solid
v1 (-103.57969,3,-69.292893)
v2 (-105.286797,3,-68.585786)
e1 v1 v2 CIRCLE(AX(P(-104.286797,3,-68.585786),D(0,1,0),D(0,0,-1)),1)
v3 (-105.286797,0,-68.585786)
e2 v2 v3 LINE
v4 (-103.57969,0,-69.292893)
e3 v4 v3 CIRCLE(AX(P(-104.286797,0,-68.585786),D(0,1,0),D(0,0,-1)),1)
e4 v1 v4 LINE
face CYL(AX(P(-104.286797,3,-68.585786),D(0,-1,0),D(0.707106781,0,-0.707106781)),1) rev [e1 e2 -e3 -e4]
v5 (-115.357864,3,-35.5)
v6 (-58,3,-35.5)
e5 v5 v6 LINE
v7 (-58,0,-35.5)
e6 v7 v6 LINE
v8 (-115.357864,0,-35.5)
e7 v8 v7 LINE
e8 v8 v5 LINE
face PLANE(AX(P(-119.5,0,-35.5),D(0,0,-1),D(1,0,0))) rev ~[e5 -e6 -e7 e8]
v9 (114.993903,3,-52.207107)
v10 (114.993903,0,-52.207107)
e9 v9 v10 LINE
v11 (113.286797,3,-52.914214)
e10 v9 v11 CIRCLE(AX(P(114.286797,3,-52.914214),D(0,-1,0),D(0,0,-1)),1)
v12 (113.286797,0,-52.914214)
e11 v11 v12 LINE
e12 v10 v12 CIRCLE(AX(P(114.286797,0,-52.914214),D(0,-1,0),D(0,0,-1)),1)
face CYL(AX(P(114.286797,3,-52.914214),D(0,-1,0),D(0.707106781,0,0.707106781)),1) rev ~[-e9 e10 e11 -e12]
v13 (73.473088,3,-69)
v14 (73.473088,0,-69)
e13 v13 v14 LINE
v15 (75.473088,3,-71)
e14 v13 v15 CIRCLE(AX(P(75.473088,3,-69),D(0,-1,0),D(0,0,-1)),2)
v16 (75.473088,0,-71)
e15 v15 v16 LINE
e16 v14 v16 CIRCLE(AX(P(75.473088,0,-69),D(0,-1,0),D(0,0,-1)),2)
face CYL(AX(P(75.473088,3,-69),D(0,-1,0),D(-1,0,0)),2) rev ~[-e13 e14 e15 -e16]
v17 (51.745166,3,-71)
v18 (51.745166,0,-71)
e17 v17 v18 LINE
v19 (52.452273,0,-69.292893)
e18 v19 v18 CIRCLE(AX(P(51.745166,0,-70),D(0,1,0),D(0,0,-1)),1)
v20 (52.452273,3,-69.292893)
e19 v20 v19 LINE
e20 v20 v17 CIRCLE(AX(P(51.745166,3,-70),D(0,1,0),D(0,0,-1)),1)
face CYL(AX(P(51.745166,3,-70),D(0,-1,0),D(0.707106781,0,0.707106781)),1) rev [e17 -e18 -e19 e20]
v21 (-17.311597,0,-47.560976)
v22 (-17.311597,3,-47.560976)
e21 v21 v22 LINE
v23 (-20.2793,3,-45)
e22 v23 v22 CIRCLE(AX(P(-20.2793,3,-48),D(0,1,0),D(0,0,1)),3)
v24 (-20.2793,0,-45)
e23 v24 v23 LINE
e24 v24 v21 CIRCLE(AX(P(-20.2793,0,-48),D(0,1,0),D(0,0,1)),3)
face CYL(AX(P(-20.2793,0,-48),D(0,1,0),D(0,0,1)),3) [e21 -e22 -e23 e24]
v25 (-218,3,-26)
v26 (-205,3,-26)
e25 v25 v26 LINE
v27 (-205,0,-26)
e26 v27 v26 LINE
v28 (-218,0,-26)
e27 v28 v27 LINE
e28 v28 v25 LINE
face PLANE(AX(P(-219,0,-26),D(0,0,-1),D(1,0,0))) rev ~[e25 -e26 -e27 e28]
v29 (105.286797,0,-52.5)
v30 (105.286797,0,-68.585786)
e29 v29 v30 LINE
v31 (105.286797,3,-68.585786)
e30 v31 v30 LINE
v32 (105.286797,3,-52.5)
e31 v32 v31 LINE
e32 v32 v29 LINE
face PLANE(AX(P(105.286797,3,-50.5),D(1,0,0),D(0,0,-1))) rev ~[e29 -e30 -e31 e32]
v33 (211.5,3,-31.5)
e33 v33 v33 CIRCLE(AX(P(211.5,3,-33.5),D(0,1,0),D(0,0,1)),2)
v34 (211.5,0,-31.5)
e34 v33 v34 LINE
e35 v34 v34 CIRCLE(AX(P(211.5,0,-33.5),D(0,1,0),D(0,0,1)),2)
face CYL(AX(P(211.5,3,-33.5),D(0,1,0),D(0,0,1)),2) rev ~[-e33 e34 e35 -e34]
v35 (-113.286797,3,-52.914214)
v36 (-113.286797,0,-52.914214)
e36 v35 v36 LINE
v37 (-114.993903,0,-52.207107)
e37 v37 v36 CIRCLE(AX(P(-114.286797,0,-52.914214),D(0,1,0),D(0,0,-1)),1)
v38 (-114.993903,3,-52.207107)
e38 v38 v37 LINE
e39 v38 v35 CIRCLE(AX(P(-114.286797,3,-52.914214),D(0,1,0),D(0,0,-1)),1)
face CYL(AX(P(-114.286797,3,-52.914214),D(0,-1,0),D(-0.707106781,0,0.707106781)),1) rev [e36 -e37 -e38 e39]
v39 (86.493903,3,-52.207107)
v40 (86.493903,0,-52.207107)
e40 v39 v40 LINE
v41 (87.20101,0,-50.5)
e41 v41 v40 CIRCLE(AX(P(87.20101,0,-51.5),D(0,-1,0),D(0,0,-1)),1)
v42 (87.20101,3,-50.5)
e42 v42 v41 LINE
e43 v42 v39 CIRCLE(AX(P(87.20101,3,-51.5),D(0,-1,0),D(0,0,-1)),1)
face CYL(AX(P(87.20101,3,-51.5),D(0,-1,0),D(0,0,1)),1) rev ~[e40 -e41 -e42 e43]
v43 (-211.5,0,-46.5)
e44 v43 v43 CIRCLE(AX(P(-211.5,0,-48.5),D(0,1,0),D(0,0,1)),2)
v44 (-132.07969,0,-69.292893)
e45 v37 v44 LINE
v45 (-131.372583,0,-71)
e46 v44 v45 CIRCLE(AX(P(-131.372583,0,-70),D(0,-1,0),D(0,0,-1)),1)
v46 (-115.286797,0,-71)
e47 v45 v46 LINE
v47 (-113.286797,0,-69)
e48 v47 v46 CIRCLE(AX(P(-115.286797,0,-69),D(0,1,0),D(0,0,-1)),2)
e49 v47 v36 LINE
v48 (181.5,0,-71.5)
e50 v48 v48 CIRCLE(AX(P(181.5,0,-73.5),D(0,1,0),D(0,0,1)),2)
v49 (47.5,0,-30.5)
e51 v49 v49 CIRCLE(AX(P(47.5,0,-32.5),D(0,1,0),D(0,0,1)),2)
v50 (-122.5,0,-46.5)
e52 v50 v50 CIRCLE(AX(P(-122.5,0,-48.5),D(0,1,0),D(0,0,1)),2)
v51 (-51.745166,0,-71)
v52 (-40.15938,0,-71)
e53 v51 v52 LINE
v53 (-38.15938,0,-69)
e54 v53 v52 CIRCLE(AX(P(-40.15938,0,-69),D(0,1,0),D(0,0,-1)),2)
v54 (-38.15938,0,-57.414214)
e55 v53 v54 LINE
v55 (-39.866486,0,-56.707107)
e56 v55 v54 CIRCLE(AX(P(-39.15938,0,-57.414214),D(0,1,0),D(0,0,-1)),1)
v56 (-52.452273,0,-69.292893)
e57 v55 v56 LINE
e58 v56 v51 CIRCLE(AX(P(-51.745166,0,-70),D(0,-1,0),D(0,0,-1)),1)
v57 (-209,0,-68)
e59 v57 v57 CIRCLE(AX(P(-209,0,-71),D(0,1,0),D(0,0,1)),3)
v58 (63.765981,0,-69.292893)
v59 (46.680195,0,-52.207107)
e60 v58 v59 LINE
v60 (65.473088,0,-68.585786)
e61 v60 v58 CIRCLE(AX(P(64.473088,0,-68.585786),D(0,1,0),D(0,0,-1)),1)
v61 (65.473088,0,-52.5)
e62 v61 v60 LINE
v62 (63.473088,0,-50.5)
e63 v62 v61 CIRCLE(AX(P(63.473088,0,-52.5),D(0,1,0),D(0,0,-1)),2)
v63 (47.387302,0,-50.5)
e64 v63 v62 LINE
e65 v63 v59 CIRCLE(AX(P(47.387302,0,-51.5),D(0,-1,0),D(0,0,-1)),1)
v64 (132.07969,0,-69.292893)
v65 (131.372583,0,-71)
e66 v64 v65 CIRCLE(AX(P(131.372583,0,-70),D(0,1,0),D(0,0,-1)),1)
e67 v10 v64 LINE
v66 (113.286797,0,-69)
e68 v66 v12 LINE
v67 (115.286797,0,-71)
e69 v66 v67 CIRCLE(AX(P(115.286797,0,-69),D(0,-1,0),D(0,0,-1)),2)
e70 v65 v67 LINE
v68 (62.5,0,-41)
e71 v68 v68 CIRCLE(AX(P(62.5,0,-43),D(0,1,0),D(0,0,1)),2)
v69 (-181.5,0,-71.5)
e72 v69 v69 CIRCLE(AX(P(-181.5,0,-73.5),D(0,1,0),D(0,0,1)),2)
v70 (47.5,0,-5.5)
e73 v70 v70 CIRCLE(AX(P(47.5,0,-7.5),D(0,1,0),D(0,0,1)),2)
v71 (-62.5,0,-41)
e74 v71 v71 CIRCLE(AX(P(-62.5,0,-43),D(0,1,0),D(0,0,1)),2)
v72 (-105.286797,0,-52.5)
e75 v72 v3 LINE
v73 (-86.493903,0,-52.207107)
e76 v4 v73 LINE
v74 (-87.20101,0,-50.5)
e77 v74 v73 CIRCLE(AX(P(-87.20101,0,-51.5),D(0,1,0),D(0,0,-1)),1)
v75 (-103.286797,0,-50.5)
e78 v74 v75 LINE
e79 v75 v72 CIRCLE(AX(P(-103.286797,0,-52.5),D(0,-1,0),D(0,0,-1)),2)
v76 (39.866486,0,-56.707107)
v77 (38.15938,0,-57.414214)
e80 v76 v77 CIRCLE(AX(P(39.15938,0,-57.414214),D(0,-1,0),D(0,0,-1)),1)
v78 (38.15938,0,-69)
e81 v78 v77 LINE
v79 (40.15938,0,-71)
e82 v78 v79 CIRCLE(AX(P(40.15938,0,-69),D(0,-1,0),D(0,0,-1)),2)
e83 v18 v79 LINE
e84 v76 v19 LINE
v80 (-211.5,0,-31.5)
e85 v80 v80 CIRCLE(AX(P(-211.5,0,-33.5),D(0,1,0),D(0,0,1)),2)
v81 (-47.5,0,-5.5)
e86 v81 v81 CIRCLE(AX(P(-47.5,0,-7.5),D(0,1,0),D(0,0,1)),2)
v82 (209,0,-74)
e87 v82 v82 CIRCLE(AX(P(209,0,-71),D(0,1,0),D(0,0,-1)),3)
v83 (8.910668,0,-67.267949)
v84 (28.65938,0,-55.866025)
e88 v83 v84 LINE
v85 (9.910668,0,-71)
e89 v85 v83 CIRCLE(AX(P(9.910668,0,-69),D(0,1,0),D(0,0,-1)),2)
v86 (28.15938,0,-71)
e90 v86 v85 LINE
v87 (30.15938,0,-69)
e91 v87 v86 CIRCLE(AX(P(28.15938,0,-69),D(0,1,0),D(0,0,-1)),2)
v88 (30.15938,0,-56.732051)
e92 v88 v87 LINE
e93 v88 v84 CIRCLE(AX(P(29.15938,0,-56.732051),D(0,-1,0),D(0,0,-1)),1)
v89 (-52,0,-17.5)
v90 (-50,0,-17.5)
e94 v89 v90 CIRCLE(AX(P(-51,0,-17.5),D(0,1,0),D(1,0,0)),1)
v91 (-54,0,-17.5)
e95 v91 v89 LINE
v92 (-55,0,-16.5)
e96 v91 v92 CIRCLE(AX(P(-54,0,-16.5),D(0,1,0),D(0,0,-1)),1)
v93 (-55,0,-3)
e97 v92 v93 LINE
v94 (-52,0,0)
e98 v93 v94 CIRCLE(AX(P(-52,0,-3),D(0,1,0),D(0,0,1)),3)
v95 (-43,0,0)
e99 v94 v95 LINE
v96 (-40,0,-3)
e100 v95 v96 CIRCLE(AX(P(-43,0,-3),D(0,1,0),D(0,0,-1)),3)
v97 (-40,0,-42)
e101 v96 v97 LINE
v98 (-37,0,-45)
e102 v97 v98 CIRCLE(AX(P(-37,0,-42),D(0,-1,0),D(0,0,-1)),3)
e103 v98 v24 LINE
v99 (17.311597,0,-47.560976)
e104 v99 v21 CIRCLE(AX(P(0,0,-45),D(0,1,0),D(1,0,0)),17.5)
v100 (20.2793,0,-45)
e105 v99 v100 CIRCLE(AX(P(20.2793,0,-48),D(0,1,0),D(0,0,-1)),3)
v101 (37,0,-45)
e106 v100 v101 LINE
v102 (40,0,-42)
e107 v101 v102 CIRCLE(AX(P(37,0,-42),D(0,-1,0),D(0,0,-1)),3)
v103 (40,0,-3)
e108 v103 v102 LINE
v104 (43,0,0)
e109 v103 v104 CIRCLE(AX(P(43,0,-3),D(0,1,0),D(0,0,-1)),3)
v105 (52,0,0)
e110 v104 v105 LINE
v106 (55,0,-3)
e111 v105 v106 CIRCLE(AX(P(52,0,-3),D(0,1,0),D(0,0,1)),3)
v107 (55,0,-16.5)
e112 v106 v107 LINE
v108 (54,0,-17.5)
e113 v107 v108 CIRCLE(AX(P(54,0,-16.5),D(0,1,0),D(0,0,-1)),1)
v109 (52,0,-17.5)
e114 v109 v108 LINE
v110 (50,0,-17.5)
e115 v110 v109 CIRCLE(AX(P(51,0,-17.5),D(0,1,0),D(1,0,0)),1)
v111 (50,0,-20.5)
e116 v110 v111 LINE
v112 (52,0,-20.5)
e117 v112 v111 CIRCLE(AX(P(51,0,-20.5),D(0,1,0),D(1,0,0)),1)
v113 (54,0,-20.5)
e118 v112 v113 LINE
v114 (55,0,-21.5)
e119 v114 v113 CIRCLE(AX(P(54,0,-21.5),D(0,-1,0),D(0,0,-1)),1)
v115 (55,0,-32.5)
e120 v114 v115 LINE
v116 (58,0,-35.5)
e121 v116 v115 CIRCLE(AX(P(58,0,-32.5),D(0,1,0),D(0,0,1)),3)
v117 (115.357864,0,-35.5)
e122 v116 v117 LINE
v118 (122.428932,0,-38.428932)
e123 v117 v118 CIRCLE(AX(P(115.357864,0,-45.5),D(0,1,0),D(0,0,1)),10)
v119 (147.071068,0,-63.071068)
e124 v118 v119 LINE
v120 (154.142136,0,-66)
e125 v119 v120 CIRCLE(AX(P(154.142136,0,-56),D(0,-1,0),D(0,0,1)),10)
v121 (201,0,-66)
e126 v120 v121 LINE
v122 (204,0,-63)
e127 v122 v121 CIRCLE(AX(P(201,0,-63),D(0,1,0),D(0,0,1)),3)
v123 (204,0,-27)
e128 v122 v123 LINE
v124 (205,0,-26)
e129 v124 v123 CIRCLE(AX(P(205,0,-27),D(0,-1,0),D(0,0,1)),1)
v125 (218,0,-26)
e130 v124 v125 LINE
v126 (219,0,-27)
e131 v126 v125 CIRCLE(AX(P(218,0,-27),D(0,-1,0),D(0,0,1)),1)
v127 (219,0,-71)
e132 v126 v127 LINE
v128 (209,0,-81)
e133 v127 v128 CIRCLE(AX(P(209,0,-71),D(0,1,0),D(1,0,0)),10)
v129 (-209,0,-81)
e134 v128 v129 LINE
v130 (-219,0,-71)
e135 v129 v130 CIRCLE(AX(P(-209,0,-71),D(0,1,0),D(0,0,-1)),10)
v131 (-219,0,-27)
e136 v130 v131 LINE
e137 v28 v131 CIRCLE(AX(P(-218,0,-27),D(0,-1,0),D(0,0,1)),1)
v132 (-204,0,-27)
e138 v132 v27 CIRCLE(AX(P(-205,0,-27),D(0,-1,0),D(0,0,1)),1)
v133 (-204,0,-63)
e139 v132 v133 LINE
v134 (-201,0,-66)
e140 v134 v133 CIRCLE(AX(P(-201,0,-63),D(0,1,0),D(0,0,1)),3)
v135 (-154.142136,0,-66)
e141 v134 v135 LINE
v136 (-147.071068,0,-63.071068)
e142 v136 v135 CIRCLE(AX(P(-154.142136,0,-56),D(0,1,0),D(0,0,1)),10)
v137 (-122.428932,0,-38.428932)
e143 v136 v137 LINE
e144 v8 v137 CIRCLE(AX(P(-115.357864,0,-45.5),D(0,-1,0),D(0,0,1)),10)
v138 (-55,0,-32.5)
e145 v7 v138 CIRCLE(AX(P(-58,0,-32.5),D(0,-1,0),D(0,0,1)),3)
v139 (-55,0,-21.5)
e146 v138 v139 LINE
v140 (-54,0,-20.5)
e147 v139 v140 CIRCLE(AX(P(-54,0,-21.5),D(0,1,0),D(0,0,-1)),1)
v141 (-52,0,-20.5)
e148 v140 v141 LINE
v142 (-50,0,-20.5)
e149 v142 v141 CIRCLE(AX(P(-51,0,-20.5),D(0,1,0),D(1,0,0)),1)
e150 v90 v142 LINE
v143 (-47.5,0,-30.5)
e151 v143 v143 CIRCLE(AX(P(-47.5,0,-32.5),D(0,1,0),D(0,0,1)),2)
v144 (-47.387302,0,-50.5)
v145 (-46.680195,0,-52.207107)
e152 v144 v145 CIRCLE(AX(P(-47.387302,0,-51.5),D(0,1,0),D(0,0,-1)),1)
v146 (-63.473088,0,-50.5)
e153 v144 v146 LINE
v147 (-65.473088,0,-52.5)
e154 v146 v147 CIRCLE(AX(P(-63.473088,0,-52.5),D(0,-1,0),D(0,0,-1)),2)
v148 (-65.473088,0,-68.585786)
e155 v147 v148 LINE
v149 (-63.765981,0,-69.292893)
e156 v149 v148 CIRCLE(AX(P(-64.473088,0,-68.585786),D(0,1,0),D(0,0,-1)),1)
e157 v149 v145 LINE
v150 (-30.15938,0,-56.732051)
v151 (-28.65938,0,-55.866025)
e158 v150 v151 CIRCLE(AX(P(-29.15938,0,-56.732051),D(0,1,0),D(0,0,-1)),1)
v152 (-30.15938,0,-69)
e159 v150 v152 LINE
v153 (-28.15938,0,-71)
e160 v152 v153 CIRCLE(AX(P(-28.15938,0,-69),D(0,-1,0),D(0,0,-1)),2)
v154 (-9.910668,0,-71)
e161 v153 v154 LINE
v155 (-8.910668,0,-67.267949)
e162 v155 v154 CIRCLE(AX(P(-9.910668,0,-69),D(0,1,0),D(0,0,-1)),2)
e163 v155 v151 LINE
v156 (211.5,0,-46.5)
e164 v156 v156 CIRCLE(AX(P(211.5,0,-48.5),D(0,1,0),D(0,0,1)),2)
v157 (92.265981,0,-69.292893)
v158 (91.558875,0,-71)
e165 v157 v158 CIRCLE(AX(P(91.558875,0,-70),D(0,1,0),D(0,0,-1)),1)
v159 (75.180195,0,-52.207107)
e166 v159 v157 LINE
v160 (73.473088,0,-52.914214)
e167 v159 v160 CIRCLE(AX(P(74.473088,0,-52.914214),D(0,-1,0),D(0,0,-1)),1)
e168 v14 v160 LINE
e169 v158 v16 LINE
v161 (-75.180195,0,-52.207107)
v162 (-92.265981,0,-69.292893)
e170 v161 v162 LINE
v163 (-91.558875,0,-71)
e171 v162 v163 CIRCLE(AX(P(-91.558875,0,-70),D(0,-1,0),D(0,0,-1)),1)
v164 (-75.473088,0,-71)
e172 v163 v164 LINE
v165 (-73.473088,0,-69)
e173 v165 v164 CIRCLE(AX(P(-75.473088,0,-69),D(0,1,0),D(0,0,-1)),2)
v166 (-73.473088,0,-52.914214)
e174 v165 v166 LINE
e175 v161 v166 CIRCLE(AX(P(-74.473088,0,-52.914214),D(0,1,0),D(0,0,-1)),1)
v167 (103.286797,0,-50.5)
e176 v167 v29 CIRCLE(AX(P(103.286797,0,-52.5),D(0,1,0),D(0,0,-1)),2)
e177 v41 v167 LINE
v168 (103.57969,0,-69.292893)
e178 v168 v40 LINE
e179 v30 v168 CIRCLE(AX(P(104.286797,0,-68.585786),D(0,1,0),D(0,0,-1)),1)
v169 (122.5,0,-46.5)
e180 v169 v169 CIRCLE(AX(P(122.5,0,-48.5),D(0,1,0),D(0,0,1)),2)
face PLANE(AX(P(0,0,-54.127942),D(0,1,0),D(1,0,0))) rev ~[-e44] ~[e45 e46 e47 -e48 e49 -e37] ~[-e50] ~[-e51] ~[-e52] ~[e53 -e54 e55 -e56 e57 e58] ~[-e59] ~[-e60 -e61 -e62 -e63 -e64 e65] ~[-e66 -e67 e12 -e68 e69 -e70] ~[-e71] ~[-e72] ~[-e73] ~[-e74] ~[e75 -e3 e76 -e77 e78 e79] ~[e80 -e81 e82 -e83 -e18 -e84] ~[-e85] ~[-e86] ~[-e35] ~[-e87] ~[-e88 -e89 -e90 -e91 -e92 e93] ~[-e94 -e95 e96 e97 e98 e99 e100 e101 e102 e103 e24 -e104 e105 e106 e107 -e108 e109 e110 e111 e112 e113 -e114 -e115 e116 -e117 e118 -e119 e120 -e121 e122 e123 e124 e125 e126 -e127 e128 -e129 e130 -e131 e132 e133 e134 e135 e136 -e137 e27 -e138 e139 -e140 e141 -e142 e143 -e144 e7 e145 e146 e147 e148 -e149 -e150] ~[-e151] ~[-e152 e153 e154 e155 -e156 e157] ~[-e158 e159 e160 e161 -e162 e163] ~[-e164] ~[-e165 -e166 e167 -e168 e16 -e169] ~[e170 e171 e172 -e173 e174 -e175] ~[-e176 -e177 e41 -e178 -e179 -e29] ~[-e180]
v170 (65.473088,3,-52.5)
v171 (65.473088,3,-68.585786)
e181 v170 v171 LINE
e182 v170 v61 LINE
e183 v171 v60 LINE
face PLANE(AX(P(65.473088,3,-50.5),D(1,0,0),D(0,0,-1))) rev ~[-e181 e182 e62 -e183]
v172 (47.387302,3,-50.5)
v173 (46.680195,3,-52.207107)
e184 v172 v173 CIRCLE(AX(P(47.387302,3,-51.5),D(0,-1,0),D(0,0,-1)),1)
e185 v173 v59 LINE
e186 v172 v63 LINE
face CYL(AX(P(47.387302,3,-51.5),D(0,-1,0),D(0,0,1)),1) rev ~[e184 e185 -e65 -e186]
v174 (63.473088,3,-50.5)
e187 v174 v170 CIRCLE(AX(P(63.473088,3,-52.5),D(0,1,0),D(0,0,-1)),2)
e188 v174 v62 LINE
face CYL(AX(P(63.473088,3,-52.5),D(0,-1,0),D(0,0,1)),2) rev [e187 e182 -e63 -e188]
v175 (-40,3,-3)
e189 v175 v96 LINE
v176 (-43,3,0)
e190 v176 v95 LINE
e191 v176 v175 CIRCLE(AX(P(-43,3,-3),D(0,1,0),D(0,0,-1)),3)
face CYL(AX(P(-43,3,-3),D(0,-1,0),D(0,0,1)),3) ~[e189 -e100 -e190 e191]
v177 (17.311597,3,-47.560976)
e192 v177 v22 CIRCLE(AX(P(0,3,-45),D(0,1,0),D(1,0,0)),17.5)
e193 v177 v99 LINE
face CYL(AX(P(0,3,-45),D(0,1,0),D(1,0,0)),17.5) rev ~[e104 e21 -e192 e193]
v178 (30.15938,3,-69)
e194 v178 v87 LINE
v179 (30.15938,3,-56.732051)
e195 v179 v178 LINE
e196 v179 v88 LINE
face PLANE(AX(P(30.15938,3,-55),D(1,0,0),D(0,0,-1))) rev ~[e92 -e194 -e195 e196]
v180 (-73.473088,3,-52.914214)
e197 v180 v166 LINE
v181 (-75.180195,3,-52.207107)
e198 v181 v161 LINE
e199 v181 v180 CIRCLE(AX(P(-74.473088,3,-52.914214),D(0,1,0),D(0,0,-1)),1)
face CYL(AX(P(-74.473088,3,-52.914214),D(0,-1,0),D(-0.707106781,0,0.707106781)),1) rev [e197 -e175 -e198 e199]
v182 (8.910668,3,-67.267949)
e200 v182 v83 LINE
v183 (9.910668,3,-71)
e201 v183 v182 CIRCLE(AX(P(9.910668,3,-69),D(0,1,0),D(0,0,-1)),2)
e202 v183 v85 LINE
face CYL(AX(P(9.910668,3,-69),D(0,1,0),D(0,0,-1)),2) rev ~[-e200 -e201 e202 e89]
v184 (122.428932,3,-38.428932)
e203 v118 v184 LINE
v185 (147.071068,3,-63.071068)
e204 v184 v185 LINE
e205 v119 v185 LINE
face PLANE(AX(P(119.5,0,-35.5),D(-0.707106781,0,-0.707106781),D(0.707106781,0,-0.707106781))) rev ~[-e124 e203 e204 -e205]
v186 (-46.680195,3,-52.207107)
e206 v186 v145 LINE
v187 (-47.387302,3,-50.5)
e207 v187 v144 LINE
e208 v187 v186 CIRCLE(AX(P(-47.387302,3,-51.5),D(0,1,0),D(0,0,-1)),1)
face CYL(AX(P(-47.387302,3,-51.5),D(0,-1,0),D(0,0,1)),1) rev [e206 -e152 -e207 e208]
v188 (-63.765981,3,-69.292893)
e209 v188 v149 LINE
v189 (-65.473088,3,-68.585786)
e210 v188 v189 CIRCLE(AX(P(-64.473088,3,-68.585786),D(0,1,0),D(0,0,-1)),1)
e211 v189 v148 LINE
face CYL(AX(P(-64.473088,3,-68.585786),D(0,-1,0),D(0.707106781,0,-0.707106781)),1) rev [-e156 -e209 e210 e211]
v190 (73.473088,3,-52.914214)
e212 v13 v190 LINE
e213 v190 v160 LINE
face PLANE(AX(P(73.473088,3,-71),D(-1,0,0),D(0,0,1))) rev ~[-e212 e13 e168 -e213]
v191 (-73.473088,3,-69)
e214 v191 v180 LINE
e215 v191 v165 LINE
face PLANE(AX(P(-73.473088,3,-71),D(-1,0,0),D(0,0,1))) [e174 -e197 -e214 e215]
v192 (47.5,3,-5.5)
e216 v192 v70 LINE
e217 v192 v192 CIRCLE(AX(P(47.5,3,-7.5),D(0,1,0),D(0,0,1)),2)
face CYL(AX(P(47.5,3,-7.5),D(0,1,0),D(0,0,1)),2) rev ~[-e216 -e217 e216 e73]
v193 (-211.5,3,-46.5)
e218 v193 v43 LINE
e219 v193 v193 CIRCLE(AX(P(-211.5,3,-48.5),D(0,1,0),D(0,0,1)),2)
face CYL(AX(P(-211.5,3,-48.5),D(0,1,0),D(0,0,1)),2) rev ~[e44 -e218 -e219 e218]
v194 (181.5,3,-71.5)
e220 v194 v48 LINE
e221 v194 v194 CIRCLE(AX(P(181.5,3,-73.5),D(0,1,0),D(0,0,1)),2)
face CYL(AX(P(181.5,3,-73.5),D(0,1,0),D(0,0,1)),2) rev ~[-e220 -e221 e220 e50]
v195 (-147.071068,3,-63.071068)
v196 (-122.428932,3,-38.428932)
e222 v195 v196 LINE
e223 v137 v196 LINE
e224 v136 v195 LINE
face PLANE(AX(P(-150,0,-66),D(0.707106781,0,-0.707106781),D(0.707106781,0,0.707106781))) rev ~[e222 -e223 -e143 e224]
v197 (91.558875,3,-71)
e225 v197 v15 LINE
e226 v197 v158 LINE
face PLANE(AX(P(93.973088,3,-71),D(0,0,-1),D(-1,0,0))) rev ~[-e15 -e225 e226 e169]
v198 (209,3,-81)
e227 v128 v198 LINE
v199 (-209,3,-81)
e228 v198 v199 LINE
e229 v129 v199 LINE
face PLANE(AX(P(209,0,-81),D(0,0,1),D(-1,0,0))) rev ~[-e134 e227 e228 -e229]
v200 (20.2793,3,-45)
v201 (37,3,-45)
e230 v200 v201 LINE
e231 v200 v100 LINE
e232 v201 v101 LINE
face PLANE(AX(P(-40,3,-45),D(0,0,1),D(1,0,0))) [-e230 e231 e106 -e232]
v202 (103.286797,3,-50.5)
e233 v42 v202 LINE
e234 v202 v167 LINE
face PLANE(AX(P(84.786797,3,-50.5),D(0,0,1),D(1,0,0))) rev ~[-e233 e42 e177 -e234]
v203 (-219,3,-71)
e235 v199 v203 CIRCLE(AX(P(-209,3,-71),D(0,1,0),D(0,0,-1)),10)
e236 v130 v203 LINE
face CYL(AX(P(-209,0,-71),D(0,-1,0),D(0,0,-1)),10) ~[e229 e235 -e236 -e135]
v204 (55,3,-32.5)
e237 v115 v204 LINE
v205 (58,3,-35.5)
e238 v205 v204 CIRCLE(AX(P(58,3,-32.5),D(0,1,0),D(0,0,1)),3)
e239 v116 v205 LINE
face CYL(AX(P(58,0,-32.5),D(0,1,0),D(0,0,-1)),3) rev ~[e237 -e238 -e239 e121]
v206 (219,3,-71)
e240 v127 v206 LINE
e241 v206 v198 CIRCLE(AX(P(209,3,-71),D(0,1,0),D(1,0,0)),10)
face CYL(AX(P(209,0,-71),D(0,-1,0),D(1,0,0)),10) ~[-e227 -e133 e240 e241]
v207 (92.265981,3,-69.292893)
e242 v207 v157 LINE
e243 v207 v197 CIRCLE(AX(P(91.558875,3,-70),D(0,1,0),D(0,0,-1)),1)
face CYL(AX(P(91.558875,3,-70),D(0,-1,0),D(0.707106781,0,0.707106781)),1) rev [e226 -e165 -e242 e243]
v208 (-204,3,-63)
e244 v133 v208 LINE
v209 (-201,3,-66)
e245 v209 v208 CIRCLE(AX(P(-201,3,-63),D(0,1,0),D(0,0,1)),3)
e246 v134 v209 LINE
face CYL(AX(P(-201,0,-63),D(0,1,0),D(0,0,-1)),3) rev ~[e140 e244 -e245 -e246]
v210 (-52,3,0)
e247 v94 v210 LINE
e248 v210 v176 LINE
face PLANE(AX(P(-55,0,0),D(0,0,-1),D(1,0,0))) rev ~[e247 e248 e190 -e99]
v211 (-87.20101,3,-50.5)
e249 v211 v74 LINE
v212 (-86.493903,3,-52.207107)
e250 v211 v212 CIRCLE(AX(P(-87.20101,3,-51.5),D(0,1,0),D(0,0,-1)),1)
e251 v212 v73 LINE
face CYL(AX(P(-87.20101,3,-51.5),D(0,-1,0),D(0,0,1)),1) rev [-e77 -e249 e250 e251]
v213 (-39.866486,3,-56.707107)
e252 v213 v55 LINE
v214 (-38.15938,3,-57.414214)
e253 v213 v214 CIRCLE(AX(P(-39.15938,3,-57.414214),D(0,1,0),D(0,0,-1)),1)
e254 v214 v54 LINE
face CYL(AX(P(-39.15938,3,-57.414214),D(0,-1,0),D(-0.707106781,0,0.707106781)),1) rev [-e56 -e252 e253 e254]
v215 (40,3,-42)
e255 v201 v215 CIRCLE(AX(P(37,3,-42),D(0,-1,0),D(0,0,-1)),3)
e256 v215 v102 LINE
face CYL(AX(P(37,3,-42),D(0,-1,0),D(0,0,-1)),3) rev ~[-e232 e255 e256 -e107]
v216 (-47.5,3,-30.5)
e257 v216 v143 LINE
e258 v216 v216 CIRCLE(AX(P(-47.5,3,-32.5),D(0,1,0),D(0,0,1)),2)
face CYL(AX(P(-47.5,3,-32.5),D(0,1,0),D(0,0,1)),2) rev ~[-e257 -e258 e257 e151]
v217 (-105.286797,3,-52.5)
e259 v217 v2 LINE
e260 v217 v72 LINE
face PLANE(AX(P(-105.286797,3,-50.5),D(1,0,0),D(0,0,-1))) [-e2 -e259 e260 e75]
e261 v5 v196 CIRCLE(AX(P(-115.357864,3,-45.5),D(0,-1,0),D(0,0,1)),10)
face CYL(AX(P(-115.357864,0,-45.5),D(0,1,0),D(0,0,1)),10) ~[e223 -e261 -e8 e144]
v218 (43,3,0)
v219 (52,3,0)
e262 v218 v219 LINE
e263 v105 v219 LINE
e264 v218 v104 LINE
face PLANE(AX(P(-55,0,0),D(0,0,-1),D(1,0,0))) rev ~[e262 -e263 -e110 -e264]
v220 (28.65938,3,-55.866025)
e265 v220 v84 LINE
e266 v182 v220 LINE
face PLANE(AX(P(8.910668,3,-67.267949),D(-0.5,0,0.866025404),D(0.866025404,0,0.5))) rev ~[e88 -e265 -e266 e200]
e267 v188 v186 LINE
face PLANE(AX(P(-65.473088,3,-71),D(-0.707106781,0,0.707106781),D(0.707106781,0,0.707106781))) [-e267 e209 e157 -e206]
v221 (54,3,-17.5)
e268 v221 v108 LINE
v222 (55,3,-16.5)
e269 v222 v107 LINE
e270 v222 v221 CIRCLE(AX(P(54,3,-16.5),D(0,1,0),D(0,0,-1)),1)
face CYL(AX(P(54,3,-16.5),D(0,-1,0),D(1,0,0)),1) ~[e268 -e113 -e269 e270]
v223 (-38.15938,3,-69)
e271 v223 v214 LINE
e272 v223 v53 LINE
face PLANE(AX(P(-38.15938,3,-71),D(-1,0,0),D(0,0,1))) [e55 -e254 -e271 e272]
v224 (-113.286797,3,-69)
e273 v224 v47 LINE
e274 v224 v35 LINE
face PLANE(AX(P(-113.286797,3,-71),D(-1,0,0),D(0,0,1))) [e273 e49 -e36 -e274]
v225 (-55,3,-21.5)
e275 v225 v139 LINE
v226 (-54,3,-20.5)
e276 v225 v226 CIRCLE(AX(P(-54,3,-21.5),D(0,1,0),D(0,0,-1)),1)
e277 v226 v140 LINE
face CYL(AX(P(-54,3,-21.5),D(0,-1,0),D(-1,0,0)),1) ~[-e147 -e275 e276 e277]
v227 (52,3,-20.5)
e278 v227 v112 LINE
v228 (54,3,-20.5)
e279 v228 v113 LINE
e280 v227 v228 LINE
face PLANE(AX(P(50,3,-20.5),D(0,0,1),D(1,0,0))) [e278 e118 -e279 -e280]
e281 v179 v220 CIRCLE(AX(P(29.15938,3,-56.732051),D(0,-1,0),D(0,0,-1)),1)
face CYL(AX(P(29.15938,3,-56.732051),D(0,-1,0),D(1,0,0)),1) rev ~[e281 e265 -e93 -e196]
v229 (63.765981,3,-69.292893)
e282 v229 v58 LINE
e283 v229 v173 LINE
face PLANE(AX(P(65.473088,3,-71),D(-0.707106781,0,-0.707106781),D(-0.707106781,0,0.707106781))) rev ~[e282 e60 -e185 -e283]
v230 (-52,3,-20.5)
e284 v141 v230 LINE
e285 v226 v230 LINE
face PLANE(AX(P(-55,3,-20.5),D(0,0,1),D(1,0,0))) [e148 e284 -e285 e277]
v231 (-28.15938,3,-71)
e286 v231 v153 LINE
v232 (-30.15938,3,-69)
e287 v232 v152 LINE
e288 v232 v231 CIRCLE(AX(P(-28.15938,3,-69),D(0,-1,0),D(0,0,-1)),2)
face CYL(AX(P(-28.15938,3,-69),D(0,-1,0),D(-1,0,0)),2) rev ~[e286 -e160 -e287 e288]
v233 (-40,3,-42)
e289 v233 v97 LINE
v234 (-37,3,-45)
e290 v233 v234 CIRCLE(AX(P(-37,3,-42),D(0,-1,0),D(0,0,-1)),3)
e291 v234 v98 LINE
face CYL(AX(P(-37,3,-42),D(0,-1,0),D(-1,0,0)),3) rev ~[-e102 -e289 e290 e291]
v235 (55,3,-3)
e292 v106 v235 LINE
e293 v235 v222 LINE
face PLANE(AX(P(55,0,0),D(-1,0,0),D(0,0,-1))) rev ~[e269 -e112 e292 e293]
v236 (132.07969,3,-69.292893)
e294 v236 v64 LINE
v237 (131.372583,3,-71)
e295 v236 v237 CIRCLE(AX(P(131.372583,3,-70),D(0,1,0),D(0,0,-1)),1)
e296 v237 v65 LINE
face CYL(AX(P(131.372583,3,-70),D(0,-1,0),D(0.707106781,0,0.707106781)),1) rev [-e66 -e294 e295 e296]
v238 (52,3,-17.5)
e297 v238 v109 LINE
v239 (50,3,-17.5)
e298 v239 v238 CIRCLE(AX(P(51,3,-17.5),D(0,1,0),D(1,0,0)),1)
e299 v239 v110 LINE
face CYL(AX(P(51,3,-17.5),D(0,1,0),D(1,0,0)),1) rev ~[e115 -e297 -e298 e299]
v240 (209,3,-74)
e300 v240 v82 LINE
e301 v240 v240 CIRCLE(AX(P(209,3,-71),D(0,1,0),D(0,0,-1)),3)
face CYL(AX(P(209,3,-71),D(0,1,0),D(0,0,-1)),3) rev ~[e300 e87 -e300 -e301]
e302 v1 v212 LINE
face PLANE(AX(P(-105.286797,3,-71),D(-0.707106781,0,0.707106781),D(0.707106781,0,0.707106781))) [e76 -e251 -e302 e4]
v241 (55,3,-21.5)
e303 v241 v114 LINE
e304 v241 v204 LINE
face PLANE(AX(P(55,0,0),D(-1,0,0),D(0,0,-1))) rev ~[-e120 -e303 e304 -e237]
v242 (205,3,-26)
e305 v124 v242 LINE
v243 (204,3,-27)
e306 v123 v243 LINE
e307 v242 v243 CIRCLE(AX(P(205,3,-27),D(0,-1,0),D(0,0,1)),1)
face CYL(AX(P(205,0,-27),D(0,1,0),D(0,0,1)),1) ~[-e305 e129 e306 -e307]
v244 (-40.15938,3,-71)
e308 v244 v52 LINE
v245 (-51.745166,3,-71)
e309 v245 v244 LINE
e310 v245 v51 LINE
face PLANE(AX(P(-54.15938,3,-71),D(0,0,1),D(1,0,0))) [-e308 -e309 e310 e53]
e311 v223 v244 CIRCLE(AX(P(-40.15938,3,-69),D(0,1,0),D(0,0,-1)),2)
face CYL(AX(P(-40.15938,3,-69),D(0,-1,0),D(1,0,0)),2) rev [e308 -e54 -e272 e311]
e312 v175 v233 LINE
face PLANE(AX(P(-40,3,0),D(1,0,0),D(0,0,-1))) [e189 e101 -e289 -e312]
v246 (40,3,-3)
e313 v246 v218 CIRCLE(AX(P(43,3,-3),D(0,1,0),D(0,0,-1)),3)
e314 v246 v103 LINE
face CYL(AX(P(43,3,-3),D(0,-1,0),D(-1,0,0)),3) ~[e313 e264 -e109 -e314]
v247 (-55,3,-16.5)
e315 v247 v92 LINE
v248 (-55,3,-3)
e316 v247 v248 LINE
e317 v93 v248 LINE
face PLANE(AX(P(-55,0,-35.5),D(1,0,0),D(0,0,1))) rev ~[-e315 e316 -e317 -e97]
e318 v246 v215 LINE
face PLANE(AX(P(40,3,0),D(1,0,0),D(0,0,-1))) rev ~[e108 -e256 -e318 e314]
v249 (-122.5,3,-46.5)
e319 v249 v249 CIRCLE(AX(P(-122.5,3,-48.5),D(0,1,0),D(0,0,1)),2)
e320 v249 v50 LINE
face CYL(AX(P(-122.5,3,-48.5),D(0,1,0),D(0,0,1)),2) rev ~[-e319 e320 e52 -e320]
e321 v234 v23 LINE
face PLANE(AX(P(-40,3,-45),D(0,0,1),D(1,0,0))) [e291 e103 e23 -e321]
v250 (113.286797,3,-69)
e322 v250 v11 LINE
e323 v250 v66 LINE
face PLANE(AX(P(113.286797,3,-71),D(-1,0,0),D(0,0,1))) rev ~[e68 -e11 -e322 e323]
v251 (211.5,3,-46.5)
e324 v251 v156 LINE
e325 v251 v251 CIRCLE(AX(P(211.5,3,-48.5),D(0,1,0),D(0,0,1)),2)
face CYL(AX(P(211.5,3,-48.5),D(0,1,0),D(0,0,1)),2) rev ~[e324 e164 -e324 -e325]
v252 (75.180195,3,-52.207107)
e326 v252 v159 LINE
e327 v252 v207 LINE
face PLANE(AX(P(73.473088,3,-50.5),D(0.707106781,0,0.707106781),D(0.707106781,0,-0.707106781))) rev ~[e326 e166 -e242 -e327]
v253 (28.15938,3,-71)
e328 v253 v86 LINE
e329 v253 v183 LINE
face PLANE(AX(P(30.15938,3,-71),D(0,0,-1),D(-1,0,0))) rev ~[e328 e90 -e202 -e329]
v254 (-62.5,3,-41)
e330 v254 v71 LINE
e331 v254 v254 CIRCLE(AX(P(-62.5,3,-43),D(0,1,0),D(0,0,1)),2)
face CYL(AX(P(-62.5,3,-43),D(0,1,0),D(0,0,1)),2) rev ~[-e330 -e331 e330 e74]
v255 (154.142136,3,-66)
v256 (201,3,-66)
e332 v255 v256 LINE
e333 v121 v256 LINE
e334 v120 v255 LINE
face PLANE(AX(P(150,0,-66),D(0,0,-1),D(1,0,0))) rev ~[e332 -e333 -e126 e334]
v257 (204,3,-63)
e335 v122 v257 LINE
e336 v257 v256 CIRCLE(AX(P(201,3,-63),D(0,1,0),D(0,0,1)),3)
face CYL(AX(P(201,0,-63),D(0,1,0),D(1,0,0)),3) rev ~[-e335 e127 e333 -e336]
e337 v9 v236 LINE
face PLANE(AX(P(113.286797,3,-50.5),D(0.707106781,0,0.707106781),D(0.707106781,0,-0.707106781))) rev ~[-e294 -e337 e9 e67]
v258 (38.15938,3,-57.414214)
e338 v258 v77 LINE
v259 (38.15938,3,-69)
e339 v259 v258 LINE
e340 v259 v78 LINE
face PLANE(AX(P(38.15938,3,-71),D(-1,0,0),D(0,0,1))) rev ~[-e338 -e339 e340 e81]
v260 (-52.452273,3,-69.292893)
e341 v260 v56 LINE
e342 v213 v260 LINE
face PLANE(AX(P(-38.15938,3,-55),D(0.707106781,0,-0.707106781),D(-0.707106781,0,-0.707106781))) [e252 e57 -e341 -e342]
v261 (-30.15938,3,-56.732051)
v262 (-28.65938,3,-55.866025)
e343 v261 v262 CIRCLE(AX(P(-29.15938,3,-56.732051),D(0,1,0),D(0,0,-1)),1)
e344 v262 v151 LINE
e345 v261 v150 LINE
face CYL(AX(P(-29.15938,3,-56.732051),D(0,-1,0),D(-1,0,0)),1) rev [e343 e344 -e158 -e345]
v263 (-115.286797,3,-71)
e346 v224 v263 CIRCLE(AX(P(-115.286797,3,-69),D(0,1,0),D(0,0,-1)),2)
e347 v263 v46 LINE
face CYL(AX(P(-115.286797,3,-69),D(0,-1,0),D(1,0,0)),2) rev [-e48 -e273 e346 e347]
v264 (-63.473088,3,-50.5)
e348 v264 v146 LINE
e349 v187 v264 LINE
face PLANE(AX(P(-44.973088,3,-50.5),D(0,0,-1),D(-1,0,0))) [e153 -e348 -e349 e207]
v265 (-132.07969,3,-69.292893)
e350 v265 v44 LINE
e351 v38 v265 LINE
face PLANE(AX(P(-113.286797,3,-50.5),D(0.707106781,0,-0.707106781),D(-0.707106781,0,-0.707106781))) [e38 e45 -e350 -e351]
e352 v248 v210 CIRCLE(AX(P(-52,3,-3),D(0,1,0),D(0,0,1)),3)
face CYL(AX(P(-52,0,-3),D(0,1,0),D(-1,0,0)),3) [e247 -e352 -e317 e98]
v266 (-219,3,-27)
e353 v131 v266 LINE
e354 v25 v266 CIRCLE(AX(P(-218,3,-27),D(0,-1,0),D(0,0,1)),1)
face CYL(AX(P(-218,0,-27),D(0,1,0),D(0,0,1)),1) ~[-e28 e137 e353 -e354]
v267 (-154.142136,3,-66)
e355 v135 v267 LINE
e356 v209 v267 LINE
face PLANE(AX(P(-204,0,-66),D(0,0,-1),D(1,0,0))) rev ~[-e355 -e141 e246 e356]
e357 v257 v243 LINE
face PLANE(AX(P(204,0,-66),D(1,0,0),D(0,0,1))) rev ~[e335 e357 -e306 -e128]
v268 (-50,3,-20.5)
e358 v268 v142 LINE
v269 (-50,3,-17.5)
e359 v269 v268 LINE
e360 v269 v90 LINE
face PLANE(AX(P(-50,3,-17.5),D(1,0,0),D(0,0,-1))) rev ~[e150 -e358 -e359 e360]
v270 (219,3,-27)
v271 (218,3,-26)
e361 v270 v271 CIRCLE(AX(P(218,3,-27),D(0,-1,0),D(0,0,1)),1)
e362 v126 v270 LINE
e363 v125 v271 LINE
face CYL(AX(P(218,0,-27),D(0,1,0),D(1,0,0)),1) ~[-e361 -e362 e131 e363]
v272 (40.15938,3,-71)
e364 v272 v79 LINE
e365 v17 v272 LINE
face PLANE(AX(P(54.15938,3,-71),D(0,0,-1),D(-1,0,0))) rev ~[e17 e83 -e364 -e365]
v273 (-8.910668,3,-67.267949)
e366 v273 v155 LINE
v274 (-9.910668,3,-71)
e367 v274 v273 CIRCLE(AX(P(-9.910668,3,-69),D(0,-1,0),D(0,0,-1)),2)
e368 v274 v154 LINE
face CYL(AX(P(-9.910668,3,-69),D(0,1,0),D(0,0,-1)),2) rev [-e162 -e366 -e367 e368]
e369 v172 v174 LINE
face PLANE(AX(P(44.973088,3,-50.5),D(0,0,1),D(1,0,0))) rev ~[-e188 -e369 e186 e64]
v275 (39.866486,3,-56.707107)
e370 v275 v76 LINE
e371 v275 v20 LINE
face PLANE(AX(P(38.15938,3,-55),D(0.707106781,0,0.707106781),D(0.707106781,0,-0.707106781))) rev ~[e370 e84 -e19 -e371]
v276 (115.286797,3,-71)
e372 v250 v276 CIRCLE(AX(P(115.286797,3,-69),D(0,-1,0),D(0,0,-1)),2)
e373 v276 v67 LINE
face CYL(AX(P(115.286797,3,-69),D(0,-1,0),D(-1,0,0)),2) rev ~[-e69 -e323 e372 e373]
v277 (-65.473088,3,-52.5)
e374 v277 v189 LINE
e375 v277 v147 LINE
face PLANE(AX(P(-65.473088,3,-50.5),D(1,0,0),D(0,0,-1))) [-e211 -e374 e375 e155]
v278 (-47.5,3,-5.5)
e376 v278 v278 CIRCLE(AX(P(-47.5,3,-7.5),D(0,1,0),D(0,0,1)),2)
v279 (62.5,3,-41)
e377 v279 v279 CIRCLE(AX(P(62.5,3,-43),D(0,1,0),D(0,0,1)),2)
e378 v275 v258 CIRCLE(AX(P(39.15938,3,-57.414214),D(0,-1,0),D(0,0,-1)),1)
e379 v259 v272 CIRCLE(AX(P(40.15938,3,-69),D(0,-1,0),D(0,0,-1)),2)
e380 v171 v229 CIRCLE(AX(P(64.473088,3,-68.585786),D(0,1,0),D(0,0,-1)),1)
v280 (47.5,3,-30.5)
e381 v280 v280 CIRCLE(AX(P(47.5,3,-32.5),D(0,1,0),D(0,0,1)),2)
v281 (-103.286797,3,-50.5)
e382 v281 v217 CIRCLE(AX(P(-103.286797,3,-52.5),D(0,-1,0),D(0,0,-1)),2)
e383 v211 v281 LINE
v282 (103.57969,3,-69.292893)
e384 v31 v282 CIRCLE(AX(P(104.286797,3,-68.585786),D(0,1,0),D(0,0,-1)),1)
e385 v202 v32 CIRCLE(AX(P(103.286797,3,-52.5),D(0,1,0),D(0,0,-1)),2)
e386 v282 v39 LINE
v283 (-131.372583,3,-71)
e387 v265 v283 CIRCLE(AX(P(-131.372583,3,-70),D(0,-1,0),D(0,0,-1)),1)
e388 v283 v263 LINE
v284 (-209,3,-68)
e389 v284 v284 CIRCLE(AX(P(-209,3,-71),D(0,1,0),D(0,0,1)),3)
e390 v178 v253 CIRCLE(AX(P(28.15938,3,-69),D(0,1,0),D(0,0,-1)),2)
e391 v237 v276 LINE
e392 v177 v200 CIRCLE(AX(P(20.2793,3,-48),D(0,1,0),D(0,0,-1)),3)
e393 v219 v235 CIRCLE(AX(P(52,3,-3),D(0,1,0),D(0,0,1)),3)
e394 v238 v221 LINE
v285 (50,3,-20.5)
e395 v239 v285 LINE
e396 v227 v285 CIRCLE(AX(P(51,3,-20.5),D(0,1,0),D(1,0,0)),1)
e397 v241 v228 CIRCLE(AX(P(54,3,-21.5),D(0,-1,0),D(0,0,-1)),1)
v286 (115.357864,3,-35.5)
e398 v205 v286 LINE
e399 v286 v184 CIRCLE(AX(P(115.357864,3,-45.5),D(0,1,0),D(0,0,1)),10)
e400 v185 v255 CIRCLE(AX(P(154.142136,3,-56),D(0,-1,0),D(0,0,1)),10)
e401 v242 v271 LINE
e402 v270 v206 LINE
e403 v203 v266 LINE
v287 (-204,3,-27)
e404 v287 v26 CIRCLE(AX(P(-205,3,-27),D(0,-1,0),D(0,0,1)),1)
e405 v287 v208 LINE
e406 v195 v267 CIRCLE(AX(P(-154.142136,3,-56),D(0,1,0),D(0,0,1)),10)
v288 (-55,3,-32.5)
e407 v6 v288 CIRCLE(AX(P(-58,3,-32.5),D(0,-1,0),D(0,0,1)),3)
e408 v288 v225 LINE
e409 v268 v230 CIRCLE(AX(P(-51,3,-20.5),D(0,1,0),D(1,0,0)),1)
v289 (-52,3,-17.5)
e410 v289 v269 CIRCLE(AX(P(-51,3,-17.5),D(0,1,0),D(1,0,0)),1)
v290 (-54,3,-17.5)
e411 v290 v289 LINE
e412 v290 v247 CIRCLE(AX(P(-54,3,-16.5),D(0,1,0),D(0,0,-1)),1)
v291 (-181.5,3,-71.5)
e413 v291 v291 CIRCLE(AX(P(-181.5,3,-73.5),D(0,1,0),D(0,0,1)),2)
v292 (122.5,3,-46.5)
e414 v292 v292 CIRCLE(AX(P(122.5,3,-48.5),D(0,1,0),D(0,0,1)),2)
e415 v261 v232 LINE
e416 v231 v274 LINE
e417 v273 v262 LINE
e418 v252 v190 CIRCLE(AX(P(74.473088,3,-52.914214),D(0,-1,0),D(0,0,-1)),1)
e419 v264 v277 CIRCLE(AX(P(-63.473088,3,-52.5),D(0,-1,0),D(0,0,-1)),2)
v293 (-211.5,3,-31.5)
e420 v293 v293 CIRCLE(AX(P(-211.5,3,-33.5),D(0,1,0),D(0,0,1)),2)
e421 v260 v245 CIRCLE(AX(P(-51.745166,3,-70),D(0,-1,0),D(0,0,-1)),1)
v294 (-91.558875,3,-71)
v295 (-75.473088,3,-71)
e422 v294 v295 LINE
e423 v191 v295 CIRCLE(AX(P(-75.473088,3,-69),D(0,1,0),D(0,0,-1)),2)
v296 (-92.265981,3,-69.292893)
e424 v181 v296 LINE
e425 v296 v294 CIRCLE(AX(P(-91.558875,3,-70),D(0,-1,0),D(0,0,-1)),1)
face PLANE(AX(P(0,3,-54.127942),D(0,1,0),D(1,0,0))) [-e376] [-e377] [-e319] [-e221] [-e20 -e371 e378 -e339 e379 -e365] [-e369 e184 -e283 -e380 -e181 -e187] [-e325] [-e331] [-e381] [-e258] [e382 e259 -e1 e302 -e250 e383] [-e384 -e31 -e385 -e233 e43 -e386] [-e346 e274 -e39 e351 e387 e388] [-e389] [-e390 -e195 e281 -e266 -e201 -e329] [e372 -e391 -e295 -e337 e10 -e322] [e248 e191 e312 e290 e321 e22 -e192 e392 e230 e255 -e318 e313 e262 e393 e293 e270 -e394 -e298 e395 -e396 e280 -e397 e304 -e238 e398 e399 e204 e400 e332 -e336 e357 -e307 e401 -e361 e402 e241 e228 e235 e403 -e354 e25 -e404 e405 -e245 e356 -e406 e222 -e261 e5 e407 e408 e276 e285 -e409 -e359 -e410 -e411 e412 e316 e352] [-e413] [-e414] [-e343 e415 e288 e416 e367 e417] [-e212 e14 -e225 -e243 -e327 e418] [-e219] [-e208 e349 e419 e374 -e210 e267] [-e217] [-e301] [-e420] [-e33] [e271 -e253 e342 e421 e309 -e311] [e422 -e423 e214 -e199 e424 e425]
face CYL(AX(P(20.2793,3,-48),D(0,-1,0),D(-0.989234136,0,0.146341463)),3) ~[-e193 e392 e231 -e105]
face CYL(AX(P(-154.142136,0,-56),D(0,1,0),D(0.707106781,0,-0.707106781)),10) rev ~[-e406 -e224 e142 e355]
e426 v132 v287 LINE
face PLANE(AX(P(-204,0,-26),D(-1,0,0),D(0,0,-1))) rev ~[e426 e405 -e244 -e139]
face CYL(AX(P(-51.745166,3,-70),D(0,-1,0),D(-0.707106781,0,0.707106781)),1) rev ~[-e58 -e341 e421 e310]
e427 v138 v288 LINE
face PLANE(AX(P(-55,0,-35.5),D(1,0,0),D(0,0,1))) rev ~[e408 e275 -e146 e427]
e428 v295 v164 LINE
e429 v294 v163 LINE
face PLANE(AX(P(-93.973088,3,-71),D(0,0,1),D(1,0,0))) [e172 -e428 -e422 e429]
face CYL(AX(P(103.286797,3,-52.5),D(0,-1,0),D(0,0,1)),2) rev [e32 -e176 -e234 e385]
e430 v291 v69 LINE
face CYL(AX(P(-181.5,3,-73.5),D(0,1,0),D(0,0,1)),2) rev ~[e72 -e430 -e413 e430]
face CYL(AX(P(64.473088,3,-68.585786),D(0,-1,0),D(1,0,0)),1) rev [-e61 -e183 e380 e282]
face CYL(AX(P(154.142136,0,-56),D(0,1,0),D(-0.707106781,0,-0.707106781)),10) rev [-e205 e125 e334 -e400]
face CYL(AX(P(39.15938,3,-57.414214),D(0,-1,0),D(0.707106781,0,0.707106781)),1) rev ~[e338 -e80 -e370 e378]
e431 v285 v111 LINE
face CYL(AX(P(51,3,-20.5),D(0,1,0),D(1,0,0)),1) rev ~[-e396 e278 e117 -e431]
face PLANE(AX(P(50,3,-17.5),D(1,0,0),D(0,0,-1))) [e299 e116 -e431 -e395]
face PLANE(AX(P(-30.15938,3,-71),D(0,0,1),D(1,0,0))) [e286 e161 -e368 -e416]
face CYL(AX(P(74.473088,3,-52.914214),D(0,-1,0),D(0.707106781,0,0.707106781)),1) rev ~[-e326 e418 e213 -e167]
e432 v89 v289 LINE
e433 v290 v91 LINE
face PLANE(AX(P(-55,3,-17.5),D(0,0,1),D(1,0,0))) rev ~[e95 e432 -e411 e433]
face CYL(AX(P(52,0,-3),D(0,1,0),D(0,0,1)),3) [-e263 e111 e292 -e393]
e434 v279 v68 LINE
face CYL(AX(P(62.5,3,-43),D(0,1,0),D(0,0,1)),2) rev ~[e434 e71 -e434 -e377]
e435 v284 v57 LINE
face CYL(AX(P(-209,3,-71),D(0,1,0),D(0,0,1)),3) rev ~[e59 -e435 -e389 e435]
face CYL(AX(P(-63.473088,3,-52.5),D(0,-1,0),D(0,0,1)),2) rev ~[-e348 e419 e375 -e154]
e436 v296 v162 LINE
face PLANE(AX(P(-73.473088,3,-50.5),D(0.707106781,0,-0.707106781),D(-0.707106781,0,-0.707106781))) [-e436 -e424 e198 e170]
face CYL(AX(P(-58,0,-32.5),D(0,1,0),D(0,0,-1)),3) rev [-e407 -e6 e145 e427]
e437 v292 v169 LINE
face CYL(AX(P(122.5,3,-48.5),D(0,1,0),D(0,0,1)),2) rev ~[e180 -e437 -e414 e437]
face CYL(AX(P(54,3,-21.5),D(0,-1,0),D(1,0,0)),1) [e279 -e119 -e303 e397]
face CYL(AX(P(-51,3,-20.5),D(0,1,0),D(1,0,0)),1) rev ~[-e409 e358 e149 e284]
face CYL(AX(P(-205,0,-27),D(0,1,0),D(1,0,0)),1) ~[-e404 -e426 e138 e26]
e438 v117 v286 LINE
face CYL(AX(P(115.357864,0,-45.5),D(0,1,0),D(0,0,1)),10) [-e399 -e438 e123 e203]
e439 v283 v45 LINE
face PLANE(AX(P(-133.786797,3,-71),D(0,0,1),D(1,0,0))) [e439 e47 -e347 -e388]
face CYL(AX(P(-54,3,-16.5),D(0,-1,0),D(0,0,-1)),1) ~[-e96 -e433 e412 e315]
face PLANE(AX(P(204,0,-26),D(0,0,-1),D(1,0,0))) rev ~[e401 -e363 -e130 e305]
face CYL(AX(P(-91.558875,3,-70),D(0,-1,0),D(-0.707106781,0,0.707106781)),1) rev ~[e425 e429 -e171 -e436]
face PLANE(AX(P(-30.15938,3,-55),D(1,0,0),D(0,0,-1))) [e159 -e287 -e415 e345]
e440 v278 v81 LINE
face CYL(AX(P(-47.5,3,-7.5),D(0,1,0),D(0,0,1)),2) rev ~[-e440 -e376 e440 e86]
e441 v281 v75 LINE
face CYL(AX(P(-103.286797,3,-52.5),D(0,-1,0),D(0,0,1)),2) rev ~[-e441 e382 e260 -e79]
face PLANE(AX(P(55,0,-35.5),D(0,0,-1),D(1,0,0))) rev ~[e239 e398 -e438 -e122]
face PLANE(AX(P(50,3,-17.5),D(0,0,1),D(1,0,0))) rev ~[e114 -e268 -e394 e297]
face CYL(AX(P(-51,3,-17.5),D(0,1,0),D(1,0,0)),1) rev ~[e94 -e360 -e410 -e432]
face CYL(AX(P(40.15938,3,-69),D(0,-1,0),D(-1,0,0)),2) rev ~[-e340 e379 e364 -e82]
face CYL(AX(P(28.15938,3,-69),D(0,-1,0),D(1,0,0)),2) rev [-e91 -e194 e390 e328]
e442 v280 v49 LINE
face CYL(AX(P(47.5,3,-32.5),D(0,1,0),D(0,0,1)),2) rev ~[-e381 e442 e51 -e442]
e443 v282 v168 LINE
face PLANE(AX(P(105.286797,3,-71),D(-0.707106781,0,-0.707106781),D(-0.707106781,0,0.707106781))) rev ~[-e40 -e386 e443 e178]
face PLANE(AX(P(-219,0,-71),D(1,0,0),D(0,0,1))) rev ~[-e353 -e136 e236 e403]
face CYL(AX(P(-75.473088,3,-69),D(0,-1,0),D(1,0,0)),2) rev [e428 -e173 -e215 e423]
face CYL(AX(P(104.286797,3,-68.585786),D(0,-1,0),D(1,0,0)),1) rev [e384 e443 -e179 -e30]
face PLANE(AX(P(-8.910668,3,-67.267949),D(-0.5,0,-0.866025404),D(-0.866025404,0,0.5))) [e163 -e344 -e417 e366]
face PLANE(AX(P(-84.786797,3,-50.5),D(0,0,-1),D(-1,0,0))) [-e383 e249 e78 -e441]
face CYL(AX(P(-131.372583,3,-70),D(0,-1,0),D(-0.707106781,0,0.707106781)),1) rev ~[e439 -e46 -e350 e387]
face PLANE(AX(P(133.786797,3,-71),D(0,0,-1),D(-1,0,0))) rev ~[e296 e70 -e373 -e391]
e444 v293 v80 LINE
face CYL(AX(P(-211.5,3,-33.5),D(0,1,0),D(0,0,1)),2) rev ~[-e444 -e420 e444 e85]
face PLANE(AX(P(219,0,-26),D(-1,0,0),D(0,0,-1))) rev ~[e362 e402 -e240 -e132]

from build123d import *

# Parameters (mm, degrees)
EXTRUDE_1_DEPTH     = 3
SKETCH_2_R          = 2
SKETCH_2_W          = 80
SKETCH_2_H          = 45
SKETCH_2_W_2        = 5
SKETCH_2_H_2        = 3
CUT_EXTRUDE_1_DEPTH = 10
SKETCH_5_R          = 3
SKETCH_5_R_2        = 17.5
SKETCH_5_R_3        = 1
CUT_EXTRUDE_4_DEPTH = 234.518735865
CUT_EXTRUDE_5_DEPTH = 234.518735865
FILLET_1_R          = 10
FILLET_2_R          = 3
FILLET_3_R          = 1
FILLET_4_R          = 2


with BuildPart() as part:
    # 草图1 → 凸台-拉伸1 (new body)
    with BuildSketch(Plane(origin=(0, 0, 0), x_dir=(1, 0, 0), z_dir=(0, 1, 0))):
        with BuildLine():
            Line((-55, 0), (55, 0))
            Line((55, 0), (55, 35.5))
            Line((55, 35.5), (119.5, 35.5))
            Line((119.5, 35.5), (150, 66))
            Line((150, 66), (204, 66))
            Line((204, 66), (204, 26))
            Line((204, 26), (219, 26))
            Line((219, 26), (219, 71))
            ThreePointArc((219, 71), (216.071067812, 78.071067812), (209, 81))
            Line((209, 81), (-209, 81))
            ThreePointArc((-209, 81), (-216.071067812, 78.071067812), (-219, 71))
            Line((-219, 71), (-219, 26))
            Line((-219, 26), (-204, 26))
            Line((-204, 26), (-204, 66))
            Line((-204, 66), (-150, 66))
            Line((-150, 66), (-119.5, 35.5))
            Line((-119.5, 35.5), (-55, 35.5))
            Line((-55, 35.5), (-55, 0))
        make_face()
    extrude(amount=EXTRUDE_1_DEPTH)

    # 草图2 → 切除-拉伸1 (cut)
    with BuildSketch(Plane(origin=(0, 3, 0), x_dir=(1, 0, 0), z_dir=(0, 1, 0))):
        with Locations(Location((-47.5, 32.5, 0), (0, 0, 270))):
            Circle(SKETCH_2_R)
        with Locations(Location((-211.5, 33.5, 0), (0, 0, 270))):
            Circle(SKETCH_2_R)
        with Locations(Location((-211.5, 48.5, 0), (0, 0, 270))):
            Circle(SKETCH_2_R)
        with Locations(Location((211.5, 48.5, 0), (0, 0, 270))):
            Circle(SKETCH_2_R)
        with Locations(Location((211.5, 33.5, 0), (0, 0, 270))):
            Circle(SKETCH_2_R)
        with Locations(Location((-181.5, 73.5, 0), (0, 0, 270))):
            Circle(SKETCH_2_R)
        with Locations(Location((181.5, 73.5, 0), (0, 0, 270))):
            Circle(SKETCH_2_R)
        with Locations(Location((47.5, 32.5, 0), (0, 0, 270))):
            Circle(SKETCH_2_R)
        with Locations(Location((-47.5, 7.5, 0), (0, 0, 270))):
            Circle(SKETCH_2_R)
        with Locations(Location((-62.5, 43, 0), (0, 0, 270))):
            Circle(SKETCH_2_R)
        with Locations(Location((-122.5, 48.5, 0), (0, 0, 270))):
            Circle(SKETCH_2_R)
        with Locations(Location((62.5, 43, 0), (0, 0, 270))):
            Circle(SKETCH_2_R)
        with Locations(Location((122.5, 48.5, 0), (0, 0, 270))):
            Circle(SKETCH_2_R)
        with Locations(Location((47.5, 7.5, 0), (0, 0, 270))):
            Circle(SKETCH_2_R)
        with Locations((0, 22.5)):
            Rectangle(SKETCH_2_W, SKETCH_2_H)
        with Locations((52.5, 19)):
            Rectangle(SKETCH_2_W_2, SKETCH_2_H_2)
        with Locations((-52.5, 19)):
            Rectangle(SKETCH_2_W_2, SKETCH_2_H_2)
    extrude(amount=-CUT_EXTRUDE_1_DEPTH, mode=Mode.SUBTRACT)

    # 草图5 → 切除-拉伸4 (cut, through all)
    with BuildSketch(Plane(origin=(0, 3, 0), x_dir=(1, 0, 0), z_dir=(0, 1, 0))):
        with Locations(Location((-209, 71, 0), (0, 0, 270))):
            Circle(SKETCH_5_R)
        with Locations(Location((209, 71, 0), (0, 0, 90))):
            Circle(SKETCH_5_R)
        with Locations((0, 45)):
            Circle(SKETCH_5_R_2)
        with Locations((-51, 20.5)):
            Circle(SKETCH_5_R_3)
        with Locations((-51, 17.5)):
            Circle(SKETCH_5_R_3)
        with Locations((51, 17.5)):
            Circle(SKETCH_5_R_3)
        with Locations((51, 20.5)):
            Circle(SKETCH_5_R_3)
    extrude(amount=-CUT_EXTRUDE_4_DEPTH, mode=Mode.SUBTRACT)

    # 草图6 → 切除-拉伸5 (cut, through all)
    with BuildSketch(Plane(origin=(0, 3, 0), x_dir=(1, 0, 0), z_dir=(0, 1, 0))):
        Polygon((-133.786796564, 71), (-113.286796564, 71), (-113.286796564, 50.5), align=None)
        Polygon((-105.286796564, 50.5), (-105.286796564, 71), (-84.786796564, 50.5), align=None)
        with BuildLine():
            Line((-30.159379566, 71), (-9.91066826, 71))
            ThreePointArc((-9.91066826, 71), (-7.978816608, 69.51763809), (-8.91066826, 67.267949192))
            Line((-8.91066826, 67.267949192), (-30.159379566, 55))
            Line((-30.159379566, 55), (-30.159379566, 71))
        make_face()
        Polygon((84.786796564, 50.5), (105.286796564, 50.5), (105.286796564, 71), align=None)
        Polygon((113.286796564, 50.5), (133.786796564, 71), (113.286796564, 71), align=None)
        Polygon((-93.973088065, 71), (-73.473088065, 71), (-73.473088065, 50.5), align=None)
        Polygon((-65.473088065, 50.5), (-65.473088065, 71), (-44.973088065, 50.5), align=None)
        Polygon((-54.159379566, 71), (-38.159379566, 71), (-38.159379566, 55), align=None)
        Polygon((38.159379566, 55), (54.159379566, 71), (38.159379566, 71), align=None)
        Polygon((44.973088065, 50.5), (65.473088065, 50.5), (65.473088065, 71), align=None)
        Polygon((73.473088065, 50.5), (93.973088065, 71), (73.473088065, 71), align=None)
        with BuildLine():
            Line((30.159379566, 55), (30.159379566, 71))
            Line((30.159379566, 71), (9.91066826, 71))
            ThreePointArc((9.91066826, 71), (7.978816608, 69.51763809), (8.91066826, 67.267949192))
            Line((8.91066826, 67.267949192), (30.159379566, 55))
        make_face()
    extrude(amount=-CUT_EXTRUDE_5_DEPTH, mode=Mode.SUBTRACT)

    # 圆角1
    fillet_1_edges = [part.edges().sort_by_distance(p)[0] for p in [
        (-119.5, 1.5, -35.5),
        (-150, 1.5, -66),
        (150, 1.5, -66),
        (119.5, 1.5, -35.5),
    ]]
    fillet(fillet_1_edges, radius=FILLET_1_R)

    # 圆角2
    fillet_2_edges = [part.edges().sort_by_distance(p)[0] for p in [
        (17.5, 1.5, -45),
        (-17.5, 1.5, -45),
        (55, 1.5, 0),
        (-55, 1.5, 0),
        (-55, 1.5, -35.5),
        (-204, 1.5, -66),
        (204, 1.5, -66),
        (55, 1.5, -35.5),
        (-40, 1.5, 0),
        (-40, 1.5, -45),
        (40, 1.5, -45),
        (40, 1.5, 0),
    ]]
    fillet(fillet_2_edges, radius=FILLET_2_R)

    # 圆角3
    fillet_3_edges = [part.edges().sort_by_distance(p)[0] for p in [
        (55, 1.5, -17.5),
        (55, 1.5, -20.5),
        (-55, 1.5, -17.5),
        (-55, 1.5, -20.5),
        (-113.286796564, 1.5, -50.5),
        (-133.786796564, 1.5, -71),
        (113.286796564, 1.5, -50.5),
        (133.786796564, 1.5, -71),
        (84.786796564, 1.5, -50.5),
        (105.286796564, 1.5, -71),
        (30.159379566, 1.5, -55),
        (-38.159379566, 1.5, -55),
        (-54.159379566, 1.5, -71),
        (-204, 1.5, -26),
        (-219, 1.5, -26),
        (-73.473088065, 1.5, -50.5),
        (-93.973088065, 1.5, -71),
        (219, 1.5, -26),
        (204, 1.5, -26),
        (-30.159379566, 1.5, -55),
        (-84.786796564, 1.5, -50.5),
        (-105.286796564, 1.5, -71),
        (73.473088065, 1.5, -50.5),
        (93.973088065, 1.5, -71),
        (44.973088065, 1.5, -50.5),
        (65.473088065, 1.5, -71),
        (38.159379566, 1.5, -55),
        (54.159379566, 1.5, -71),
        (-44.973088065, 1.5, -50.5),
        (-65.473088065, 1.5, -71),
    ]]
    fillet(fillet_3_edges, radius=FILLET_3_R)

    # 圆角4
    fillet_4_edges = [part.edges().sort_by_distance(p)[0] for p in [
        (-113.286796564, 1.5, -71),
        (113.286796564, 1.5, -71),
        (105.286796564, 1.5, -50.5),
        (30.159379566, 1.5, -71),
        (-38.159379566, 1.5, -71),
        (-73.473088065, 1.5, -71),
        (-30.159379566, 1.5, -71),
        (-105.286796564, 1.5, -50.5),
        (73.473088065, 1.5, -71),
        (65.473088065, 1.5, -50.5),
        (38.159379566, 1.5, -71),
        (-65.473088065, 1.5, -50.5),
    ]]
    fillet(fillet_4_edges, radius=FILLET_4_R)


solid = part.part
